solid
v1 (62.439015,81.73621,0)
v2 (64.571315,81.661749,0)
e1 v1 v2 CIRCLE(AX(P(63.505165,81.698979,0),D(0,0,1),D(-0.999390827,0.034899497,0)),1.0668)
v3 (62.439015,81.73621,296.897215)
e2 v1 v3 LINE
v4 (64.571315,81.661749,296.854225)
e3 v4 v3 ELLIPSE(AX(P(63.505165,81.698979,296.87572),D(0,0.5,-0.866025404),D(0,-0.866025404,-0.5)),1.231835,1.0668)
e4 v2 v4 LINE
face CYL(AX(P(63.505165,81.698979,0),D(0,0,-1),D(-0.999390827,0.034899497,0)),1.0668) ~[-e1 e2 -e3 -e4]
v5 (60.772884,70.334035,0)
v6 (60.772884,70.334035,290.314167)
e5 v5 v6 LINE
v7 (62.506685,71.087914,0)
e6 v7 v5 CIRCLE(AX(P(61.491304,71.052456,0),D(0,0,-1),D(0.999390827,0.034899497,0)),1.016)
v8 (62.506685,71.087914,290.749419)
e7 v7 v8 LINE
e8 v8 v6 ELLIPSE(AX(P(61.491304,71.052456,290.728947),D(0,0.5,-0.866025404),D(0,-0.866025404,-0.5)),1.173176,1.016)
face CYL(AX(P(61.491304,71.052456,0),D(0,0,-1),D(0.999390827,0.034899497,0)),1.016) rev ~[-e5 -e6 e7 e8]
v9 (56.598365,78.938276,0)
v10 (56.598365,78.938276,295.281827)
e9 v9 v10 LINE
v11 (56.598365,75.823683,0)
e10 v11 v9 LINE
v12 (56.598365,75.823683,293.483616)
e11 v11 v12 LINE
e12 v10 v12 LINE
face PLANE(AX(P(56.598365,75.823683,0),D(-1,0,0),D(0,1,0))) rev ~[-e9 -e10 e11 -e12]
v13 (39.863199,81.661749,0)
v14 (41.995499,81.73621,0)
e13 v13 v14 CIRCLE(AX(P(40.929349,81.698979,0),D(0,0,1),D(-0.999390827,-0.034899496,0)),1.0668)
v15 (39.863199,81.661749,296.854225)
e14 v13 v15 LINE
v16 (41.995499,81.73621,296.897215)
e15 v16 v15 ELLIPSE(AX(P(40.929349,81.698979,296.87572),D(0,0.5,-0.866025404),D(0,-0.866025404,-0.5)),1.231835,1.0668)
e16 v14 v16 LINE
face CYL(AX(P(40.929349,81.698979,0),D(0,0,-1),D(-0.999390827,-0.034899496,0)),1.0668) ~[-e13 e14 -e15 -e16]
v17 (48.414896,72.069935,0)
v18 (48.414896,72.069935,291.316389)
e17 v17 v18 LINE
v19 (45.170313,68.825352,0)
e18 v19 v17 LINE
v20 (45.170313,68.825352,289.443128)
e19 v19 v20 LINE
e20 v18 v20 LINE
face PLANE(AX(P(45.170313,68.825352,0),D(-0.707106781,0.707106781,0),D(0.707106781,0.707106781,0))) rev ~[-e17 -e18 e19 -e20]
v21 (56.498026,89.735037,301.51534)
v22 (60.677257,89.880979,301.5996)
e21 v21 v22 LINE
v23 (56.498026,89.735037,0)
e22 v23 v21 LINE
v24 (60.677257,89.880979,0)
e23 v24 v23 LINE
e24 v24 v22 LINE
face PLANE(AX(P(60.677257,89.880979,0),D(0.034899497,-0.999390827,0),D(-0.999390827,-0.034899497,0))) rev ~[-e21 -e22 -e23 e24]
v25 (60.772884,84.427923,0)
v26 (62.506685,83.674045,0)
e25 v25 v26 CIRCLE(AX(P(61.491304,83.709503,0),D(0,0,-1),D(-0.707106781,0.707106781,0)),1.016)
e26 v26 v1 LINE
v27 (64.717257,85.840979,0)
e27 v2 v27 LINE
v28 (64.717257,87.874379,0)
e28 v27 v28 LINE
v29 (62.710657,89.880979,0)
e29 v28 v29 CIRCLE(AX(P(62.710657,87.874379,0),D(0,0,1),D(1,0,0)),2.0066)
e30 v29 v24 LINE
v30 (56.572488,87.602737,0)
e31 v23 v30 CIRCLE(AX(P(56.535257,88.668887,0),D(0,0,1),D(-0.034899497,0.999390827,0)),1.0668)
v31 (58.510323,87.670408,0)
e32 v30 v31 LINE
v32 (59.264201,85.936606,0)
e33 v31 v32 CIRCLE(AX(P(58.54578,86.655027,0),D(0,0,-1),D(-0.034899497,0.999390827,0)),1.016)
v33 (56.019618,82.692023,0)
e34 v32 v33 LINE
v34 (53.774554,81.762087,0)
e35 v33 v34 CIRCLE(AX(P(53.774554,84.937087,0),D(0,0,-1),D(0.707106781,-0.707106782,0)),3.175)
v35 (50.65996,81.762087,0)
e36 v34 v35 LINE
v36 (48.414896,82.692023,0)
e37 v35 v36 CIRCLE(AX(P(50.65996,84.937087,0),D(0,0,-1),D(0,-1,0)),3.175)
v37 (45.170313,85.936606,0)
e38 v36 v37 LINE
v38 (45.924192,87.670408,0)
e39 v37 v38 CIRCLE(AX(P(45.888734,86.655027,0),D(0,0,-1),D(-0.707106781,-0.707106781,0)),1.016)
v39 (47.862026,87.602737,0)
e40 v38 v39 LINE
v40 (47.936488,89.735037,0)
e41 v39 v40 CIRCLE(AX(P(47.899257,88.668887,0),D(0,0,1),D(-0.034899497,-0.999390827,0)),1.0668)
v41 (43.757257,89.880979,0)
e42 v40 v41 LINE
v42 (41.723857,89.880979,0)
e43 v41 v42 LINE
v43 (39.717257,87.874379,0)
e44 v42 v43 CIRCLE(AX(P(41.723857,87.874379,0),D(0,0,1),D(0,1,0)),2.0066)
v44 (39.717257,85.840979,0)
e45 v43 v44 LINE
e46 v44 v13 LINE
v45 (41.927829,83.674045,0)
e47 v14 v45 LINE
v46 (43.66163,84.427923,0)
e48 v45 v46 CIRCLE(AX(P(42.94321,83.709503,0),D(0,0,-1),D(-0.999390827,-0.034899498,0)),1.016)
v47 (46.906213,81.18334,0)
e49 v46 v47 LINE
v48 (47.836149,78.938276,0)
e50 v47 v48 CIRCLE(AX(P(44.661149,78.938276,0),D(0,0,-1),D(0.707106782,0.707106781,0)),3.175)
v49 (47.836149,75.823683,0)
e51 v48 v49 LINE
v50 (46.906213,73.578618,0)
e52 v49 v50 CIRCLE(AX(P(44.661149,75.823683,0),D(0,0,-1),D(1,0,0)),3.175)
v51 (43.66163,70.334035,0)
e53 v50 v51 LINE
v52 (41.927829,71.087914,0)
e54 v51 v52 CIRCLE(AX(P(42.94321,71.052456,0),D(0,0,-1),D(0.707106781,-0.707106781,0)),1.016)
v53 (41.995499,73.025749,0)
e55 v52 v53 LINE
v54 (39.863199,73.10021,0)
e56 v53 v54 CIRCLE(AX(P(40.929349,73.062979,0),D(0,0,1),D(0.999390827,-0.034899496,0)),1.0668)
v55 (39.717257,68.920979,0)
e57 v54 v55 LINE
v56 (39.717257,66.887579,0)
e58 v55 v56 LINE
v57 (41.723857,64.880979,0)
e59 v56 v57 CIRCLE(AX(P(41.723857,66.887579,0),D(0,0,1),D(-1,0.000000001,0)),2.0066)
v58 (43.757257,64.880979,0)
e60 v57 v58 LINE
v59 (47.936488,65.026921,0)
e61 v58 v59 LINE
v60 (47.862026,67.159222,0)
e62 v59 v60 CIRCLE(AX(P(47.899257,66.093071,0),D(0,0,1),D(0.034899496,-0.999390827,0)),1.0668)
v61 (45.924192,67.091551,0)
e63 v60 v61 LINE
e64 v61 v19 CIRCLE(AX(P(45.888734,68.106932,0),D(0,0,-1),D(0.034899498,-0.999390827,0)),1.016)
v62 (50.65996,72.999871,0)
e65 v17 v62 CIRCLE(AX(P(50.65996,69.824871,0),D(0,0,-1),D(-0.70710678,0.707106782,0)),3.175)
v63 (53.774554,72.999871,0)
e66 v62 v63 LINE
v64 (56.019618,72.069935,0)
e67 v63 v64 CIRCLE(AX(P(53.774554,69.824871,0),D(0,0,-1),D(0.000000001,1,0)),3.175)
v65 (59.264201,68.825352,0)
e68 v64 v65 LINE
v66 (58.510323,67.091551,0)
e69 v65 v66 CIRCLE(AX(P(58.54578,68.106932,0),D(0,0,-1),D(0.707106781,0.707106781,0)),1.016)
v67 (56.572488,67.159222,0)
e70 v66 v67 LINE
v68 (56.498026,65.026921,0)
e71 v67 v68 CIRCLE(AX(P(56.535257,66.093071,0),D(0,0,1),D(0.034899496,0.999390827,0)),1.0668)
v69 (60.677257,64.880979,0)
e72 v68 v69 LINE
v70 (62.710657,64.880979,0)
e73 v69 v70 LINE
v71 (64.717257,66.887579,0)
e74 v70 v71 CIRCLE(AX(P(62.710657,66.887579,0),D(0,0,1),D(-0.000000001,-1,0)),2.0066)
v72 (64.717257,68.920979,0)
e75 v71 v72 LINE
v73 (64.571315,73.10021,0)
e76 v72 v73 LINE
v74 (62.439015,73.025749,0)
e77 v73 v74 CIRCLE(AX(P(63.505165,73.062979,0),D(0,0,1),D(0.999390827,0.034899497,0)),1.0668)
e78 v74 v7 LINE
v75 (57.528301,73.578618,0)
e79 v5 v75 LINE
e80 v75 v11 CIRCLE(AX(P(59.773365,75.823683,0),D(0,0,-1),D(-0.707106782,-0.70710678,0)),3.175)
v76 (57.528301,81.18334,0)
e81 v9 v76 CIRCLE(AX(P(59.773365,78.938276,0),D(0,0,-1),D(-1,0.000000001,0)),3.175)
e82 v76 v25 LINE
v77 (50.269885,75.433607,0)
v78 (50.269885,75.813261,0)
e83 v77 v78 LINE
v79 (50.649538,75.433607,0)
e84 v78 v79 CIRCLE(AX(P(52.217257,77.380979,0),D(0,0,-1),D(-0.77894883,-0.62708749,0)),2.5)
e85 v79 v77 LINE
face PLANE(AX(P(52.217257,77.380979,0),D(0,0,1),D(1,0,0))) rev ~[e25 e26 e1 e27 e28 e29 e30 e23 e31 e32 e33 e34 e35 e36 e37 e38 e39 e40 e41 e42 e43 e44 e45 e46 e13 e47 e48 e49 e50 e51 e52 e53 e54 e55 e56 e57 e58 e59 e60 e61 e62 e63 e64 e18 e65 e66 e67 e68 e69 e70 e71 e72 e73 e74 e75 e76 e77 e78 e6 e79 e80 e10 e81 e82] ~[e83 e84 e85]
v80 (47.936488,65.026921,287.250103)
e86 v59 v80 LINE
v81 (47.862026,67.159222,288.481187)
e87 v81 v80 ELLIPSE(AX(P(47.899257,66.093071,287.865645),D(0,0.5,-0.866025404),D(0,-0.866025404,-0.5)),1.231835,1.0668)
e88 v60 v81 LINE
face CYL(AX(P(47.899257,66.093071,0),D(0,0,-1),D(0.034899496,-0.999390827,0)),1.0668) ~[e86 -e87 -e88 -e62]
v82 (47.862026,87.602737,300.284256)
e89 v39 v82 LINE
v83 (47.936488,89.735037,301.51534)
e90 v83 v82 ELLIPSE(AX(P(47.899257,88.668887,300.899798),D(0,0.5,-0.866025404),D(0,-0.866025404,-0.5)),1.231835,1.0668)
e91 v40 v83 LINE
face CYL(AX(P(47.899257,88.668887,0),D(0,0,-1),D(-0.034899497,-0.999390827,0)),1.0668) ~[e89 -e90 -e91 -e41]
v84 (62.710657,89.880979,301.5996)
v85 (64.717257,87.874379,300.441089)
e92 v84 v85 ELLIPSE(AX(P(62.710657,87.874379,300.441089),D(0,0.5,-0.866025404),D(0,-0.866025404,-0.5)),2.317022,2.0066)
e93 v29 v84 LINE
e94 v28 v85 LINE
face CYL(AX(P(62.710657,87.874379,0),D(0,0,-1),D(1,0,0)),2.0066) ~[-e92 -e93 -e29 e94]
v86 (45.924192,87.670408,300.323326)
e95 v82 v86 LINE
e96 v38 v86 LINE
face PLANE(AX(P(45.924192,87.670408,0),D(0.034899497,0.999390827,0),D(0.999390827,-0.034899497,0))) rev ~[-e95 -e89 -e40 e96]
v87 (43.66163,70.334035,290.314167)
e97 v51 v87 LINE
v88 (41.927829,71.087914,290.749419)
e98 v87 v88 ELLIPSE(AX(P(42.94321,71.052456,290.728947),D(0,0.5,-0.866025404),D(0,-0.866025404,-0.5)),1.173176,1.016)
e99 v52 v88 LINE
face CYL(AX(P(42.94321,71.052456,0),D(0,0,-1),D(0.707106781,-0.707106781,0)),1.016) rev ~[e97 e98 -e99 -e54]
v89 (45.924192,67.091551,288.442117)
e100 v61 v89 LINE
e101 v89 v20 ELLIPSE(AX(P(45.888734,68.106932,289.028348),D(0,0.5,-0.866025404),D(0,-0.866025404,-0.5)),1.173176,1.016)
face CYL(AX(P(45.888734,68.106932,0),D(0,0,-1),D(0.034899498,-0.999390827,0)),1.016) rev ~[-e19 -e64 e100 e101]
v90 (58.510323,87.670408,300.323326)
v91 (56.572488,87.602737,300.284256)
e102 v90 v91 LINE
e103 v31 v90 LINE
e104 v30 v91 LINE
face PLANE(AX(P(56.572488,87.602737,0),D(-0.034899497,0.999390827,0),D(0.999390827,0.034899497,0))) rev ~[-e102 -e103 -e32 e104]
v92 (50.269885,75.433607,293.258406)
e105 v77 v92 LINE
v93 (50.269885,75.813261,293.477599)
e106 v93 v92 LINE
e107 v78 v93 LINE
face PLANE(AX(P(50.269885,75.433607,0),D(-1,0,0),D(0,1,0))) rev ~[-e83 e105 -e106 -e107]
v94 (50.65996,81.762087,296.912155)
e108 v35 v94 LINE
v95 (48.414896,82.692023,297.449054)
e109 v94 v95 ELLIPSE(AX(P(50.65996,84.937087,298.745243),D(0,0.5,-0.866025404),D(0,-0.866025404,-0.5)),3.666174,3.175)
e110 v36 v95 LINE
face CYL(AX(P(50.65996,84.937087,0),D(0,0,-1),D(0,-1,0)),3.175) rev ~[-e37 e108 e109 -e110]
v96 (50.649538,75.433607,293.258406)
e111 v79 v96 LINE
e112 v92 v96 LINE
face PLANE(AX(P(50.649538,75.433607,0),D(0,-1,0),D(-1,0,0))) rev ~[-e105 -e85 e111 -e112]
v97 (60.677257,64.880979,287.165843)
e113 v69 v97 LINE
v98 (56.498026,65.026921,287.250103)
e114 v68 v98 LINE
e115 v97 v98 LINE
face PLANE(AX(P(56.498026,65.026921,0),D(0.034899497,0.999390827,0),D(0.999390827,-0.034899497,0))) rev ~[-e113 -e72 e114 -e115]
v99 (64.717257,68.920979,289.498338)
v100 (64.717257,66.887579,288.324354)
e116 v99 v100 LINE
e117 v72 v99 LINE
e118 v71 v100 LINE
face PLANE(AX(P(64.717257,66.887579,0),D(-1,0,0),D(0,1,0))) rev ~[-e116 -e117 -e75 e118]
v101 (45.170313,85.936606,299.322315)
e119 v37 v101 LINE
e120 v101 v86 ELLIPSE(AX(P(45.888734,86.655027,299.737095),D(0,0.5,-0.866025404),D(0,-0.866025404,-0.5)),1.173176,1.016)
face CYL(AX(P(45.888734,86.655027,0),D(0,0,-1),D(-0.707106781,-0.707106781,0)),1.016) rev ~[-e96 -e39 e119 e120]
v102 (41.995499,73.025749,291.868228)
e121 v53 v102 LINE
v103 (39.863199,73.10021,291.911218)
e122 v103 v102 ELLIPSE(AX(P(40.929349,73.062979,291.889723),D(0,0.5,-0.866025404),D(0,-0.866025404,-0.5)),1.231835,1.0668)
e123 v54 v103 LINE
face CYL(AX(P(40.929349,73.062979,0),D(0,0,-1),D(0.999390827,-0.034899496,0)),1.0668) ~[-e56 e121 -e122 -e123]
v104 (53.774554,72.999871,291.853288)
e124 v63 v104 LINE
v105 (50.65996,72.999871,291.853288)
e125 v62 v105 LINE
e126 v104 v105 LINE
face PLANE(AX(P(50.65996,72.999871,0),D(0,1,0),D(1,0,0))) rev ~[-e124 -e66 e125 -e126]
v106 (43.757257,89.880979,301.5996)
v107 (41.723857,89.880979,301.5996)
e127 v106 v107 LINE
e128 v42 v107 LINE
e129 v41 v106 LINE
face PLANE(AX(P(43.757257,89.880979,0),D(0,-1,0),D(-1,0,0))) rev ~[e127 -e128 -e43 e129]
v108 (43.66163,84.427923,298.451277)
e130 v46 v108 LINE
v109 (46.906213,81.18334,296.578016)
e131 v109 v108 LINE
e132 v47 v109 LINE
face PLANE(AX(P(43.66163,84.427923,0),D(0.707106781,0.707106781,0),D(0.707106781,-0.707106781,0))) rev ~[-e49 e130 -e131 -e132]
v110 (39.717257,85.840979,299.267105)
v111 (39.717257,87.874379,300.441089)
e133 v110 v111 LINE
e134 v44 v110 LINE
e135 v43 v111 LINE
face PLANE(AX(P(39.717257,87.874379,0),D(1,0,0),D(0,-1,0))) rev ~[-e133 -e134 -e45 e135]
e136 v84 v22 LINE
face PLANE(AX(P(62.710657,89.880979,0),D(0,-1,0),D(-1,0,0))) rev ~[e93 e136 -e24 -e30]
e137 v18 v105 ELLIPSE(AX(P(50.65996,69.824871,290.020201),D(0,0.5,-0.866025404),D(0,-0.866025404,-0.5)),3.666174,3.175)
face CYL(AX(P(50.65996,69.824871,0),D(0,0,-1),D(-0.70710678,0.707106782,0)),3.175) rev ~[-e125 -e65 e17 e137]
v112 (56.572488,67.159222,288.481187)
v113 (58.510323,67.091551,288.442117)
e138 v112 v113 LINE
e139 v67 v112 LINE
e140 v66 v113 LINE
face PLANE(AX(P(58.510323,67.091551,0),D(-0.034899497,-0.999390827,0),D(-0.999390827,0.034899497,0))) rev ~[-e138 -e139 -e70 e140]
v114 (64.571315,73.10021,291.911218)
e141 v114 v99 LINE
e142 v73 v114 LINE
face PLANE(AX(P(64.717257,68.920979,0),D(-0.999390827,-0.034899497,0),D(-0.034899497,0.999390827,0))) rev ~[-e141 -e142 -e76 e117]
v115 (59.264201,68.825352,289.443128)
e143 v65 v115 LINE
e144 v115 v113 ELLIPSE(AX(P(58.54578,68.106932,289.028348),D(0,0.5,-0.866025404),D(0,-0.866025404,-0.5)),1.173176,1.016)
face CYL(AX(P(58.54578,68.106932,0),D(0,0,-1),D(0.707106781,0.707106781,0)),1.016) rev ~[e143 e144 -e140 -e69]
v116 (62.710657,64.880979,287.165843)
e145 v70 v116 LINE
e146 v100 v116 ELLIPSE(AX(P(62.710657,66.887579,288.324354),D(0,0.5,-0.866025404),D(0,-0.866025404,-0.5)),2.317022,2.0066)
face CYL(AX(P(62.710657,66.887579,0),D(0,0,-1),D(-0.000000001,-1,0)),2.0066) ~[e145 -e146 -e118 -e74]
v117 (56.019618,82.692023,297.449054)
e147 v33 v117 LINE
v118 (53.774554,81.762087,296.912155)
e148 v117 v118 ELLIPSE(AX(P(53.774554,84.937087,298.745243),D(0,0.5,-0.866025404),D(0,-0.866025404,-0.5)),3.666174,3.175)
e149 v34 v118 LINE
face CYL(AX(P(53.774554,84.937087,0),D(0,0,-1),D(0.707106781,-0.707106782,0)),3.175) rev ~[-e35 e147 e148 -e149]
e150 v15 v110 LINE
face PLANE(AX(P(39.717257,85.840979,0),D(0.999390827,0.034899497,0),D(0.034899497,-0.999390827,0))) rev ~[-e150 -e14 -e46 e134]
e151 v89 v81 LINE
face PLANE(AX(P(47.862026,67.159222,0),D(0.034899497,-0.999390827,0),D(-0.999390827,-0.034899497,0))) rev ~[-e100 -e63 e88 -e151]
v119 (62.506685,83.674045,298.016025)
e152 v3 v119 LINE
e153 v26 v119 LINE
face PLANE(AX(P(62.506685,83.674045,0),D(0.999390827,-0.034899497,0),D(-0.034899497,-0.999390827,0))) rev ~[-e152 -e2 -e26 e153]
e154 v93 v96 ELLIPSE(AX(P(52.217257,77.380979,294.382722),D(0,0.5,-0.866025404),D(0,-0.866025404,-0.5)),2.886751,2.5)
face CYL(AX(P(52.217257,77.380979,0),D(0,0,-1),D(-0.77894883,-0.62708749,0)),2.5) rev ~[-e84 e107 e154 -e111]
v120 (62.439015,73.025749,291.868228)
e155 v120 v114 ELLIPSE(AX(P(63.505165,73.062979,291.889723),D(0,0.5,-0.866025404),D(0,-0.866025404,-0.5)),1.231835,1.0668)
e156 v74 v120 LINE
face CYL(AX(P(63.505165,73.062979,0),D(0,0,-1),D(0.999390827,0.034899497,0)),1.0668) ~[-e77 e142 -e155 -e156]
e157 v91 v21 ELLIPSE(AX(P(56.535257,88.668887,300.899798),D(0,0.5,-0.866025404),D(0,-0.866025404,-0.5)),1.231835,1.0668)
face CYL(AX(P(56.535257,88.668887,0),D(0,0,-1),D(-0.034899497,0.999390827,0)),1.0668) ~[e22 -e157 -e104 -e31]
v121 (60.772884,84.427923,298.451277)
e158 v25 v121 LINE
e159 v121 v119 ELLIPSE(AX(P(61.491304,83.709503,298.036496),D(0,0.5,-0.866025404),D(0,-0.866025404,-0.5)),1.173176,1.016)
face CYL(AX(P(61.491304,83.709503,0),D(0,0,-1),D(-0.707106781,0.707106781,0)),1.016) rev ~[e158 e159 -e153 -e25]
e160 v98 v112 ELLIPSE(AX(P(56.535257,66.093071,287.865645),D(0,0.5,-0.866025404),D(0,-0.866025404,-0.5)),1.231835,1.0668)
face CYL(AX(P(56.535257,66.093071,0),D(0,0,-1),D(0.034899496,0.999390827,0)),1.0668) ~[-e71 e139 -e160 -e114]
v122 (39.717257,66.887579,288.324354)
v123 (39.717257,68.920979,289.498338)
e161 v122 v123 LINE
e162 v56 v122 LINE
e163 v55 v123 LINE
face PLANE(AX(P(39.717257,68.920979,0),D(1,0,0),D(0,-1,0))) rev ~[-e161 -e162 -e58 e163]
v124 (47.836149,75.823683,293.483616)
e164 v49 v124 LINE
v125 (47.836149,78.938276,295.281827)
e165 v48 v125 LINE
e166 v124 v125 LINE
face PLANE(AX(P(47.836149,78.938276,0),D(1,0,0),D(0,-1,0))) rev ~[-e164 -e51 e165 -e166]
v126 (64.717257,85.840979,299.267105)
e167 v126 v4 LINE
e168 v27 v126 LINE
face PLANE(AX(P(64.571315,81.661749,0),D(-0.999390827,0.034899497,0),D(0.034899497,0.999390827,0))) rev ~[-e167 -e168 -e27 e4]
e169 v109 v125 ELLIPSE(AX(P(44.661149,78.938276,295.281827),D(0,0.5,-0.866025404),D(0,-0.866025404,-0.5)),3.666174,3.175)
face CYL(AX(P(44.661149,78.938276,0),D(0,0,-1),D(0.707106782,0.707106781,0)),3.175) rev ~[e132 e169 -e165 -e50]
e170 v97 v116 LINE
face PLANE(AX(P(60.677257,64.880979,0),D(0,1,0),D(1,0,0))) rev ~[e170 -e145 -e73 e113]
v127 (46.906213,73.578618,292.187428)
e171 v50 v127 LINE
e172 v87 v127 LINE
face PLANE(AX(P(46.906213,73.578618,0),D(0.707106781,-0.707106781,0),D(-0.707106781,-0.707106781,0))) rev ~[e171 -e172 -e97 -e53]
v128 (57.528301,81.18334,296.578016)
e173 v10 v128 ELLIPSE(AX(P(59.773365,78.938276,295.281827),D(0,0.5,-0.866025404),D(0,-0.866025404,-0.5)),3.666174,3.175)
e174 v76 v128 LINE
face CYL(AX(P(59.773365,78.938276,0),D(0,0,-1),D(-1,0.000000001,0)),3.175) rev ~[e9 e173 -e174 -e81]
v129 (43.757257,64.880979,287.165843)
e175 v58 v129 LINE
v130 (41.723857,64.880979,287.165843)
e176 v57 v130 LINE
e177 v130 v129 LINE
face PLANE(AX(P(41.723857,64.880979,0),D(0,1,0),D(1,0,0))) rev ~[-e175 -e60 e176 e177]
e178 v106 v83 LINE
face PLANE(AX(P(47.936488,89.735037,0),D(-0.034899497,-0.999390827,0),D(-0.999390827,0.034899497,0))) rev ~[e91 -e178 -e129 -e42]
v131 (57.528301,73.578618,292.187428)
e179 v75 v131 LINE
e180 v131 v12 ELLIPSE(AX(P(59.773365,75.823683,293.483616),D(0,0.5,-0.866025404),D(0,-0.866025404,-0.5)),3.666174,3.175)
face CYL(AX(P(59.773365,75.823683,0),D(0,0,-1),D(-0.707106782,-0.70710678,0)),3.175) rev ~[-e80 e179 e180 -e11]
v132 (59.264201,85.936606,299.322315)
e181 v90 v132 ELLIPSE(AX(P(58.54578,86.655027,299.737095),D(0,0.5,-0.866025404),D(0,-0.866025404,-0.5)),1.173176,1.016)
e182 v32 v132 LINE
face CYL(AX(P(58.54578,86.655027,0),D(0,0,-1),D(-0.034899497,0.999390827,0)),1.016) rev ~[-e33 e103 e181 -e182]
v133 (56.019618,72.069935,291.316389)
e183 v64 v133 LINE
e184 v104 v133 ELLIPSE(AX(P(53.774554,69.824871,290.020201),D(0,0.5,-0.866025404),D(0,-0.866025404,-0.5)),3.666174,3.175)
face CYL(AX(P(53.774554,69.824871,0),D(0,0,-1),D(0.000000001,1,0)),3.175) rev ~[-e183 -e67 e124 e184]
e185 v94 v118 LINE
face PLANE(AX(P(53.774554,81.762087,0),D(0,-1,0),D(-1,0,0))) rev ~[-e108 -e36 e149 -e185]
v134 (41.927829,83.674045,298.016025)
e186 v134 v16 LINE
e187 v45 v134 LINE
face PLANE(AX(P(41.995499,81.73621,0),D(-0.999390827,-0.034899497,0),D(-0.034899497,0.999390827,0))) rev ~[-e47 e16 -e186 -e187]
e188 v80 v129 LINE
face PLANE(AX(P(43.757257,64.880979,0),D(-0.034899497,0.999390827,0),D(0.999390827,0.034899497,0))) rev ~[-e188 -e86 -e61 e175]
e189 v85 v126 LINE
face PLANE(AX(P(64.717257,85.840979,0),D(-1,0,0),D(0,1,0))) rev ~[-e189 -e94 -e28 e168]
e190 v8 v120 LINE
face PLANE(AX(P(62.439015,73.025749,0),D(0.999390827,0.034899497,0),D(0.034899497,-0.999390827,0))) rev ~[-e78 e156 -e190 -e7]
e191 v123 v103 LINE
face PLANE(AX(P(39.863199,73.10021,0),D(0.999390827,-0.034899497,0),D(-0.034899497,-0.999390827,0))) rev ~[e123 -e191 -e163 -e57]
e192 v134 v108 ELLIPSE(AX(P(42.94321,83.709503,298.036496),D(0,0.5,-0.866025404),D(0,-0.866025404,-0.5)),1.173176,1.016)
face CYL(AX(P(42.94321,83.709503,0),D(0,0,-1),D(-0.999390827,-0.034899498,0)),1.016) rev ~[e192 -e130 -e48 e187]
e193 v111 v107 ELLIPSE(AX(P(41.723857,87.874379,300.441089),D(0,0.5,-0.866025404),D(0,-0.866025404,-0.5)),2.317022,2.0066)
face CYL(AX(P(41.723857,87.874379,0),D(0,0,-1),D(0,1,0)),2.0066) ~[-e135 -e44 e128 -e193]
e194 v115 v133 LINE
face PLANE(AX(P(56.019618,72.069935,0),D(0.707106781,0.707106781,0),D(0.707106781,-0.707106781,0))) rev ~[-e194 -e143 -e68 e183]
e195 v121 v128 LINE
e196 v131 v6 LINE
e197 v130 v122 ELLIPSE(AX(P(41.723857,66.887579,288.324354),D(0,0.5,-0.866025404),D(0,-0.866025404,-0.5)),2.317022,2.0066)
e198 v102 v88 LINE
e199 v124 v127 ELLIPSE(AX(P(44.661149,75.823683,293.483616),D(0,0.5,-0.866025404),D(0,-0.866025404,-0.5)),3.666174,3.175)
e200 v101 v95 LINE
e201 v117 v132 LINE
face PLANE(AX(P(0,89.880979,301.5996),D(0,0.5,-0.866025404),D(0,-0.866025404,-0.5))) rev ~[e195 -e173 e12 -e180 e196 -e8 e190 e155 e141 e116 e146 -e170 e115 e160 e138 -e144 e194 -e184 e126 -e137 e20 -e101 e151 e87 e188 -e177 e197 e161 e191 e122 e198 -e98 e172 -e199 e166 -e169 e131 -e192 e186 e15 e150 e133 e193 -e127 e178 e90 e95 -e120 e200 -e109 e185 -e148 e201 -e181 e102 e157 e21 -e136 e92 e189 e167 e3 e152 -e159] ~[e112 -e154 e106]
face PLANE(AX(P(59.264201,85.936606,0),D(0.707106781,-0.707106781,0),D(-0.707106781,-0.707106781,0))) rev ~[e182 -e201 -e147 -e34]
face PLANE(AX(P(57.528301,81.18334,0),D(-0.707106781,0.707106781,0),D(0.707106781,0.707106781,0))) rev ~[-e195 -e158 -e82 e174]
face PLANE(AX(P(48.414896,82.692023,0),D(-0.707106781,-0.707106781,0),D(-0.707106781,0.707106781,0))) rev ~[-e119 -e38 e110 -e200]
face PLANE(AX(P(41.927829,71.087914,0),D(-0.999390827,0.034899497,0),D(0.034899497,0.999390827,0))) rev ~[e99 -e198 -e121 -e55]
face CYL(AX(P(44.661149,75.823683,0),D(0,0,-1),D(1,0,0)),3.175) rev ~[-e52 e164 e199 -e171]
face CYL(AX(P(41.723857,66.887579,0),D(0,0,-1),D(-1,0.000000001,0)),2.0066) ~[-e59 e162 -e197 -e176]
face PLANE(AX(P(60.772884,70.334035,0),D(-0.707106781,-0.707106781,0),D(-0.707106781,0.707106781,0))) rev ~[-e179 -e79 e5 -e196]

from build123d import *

# Parameters (mm, degrees)
BOSS_EXTRUDE1_DEPTH = 301.5996
CUT_EXTRUDE1_DEPTH  = 322.293063297


with BuildPart() as part:
    # Model → Boss-Extrude1 (new body)
    with BuildSketch(Plane.XY):
        with BuildLine():
            Line((50.659960212, 72.999871414), (53.774553856, 72.999871414))
            ThreePointArc((53.774553856, 72.999871414), (54.989573754, 72.758188929), (56.019617887, 72.069935444))
            Line((56.019617887, 72.069935444), (59.264200891, 68.825352439))
            ThreePointArc((59.264200891, 68.825352439), (59.477513437, 67.701802895), (58.510322513, 67.091550869))
            Line((58.510322513, 67.091550869), (56.572487817, 67.159221548))
            ThreePointArc((56.572487817, 67.159221548), (55.4691069, 66.130302197), (56.498026251, 65.026921279))
            Line((56.498026251, 65.026921279), (60.677257034, 64.880979325))
            Line((60.677257034, 64.880979325), (62.710657034, 64.880979325))
            ThreePointArc((62.710657034, 64.880979325), (64.129537501, 65.468698857), (64.717257034, 66.887579325))
            Line((64.717257034, 66.887579325), (64.717257034, 68.920979325))
            Line((64.717257034, 68.920979325), (64.57131508, 73.100210108))
            ThreePointArc((64.57131508, 73.100210108), (63.467934162, 74.129129459), (62.439014811, 73.025748542))
            Line((62.439014811, 73.025748542), (62.50668549, 71.087913846))
            ThreePointArc((62.50668549, 71.087913846), (61.896433464, 70.120722922), (60.77288392, 70.334035468))
            Line((60.77288392, 70.334035468), (57.528300915, 73.578618472))
            ThreePointArc((57.528300915, 73.578618472), (56.84004743, 74.608662605), (56.598364945, 75.823682503))
            Line((56.598364945, 75.823682503), (56.598364945, 78.938276147))
            ThreePointArc((56.598364945, 78.938276147), (56.84004743, 80.153296044), (57.528300915, 81.183340177))
            Line((57.528300915, 81.183340177), (60.77288392, 84.427923182))
            ThreePointArc((60.77288392, 84.427923182), (61.896433464, 84.641235728), (62.50668549, 83.674044803))
            Line((62.50668549, 83.674044803), (62.439014811, 81.736210108))
            ThreePointArc((62.439014811, 81.736210108), (63.467934162, 80.63282919), (64.57131508, 81.661748542))
            Line((64.57131508, 81.661748542), (64.717257034, 85.840979325))
            Line((64.717257034, 85.840979325), (64.717257034, 87.874379325))
            ThreePointArc((64.717257034, 87.874379325), (64.129537501, 89.293259792), (62.710657034, 89.880979325))
            Line((62.710657034, 89.880979325), (60.677257034, 89.880979325))
            Line((60.677257034, 89.880979325), (56.498026251, 89.73503737))
            ThreePointArc((56.498026251, 89.73503737), (55.4691069, 88.631656452), (56.572487817, 87.602737101))
            Line((56.572487817, 87.602737101), (58.510322513, 87.67040778))
            ThreePointArc((58.510322513, 87.67040778), (59.477513437, 87.060155754), (59.264200891, 85.93660621))
            Line((59.264200891, 85.93660621), (56.019617887, 82.692023205))
            ThreePointArc((56.019617887, 82.692023205), (54.989573754, 82.00376972), (53.774553856, 81.762087236))
            Line((53.774553856, 81.762087236), (50.659960212, 81.762087236))
            ThreePointArc((50.659960212, 81.762087236), (49.444940315, 82.00376972), (48.414896182, 82.692023205))
            Line((48.414896182, 82.692023205), (45.170313177, 85.93660621))
            ThreePointArc((45.170313177, 85.93660621), (44.957000631, 87.060155754), (45.924191556, 87.67040778))
            Line((45.924191556, 87.67040778), (47.862026251, 87.602737101))
            ThreePointArc((47.862026251, 87.602737101), (48.965407169, 88.631656452), (47.936487817, 89.73503737))
            Line((47.936487817, 89.73503737), (43.757257034, 89.880979325))
            Line((43.757257034, 89.880979325), (41.723857034, 89.880979325))
            ThreePointArc((41.723857034, 89.880979325), (40.304976567, 89.293259792), (39.717257034, 87.874379325))
            Line((39.717257034, 87.874379325), (39.717257034, 85.840979325))
            Line((39.717257034, 85.840979325), (39.863198989, 81.661748542))
            ThreePointArc((39.863198989, 81.661748542), (40.966579907, 80.63282919), (41.995499258, 81.736210108))
            Line((41.995499258, 81.736210108), (41.927828579, 83.674044803))
            ThreePointArc((41.927828579, 83.674044803), (42.538080605, 84.641235728), (43.661630149, 84.427923182))
            Line((43.661630149, 84.427923182), (46.906213154, 81.183340177))
            ThreePointArc((46.906213154, 81.183340177), (47.594466639, 80.153296044), (47.836149123, 78.938276147))
            Line((47.836149123, 78.938276147), (47.836149123, 75.823682503))
            ThreePointArc((47.836149123, 75.823682503), (47.594466639, 74.608662605), (46.906213154, 73.578618472))
            Line((46.906213154, 73.578618472), (43.661630149, 70.334035468))
            ThreePointArc((43.661630149, 70.334035468), (42.538080605, 70.120722922), (41.927828579, 71.087913846))
            Line((41.927828579, 71.087913846), (41.995499258, 73.025748542))
            ThreePointArc((41.995499258, 73.025748542), (40.966579907, 74.129129459), (39.863198989, 73.100210108))
            Line((39.863198989, 73.100210108), (39.717257034, 68.920979325))
            Line((39.717257034, 68.920979325), (39.717257034, 66.887579325))
            ThreePointArc((39.717257034, 66.887579325), (40.304976567, 65.468698857), (41.723857034, 64.880979325))
            Line((41.723857034, 64.880979325), (43.757257034, 64.880979325))
            Line((43.757257034, 64.880979325), (47.936487817, 65.026921279))
            ThreePointArc((47.936487817, 65.026921279), (48.965407169, 66.130302197), (47.862026251, 67.159221548))
            Line((47.862026251, 67.159221548), (45.924191556, 67.091550869))
            ThreePointArc((45.924191556, 67.091550869), (44.957000631, 67.701802895), (45.170313177, 68.825352439))
            Line((45.170313177, 68.825352439), (48.414896182, 72.069935444))
            ThreePointArc((48.414896182, 72.069935444), (49.444940315, 72.758188929), (50.659960212, 72.999871414))
        make_face()
        with BuildLine():
            Line((50.64953831, 75.433607249), (50.269884959, 75.433607249))
            Line((50.269884959, 75.433607249), (50.269884959, 75.8132606))
            ThreePointArc((50.269884959, 75.8132606), (53.985023987, 79.148746278), (50.64953831, 75.433607249))
        make_face(mode=Mode.SUBTRACT)
    extrude(amount=BOSS_EXTRUDE1_DEPTH)

    # Sketch2 → Cut-Extrude1 (cut, through all)
    with BuildSketch(Plane(origin=(0, 0, 0), x_dir=(0, 0, -1), z_dir=(1, 0, 0))):
        Polygon((-301.5996, 64.880979325), (-301.5996, 89.880979325), (-287.16584327, 64.880979325), align=None)
    extrude(amount=CUT_EXTRUDE1_DEPTH, mode=Mode.SUBTRACT)


solid = part.part
